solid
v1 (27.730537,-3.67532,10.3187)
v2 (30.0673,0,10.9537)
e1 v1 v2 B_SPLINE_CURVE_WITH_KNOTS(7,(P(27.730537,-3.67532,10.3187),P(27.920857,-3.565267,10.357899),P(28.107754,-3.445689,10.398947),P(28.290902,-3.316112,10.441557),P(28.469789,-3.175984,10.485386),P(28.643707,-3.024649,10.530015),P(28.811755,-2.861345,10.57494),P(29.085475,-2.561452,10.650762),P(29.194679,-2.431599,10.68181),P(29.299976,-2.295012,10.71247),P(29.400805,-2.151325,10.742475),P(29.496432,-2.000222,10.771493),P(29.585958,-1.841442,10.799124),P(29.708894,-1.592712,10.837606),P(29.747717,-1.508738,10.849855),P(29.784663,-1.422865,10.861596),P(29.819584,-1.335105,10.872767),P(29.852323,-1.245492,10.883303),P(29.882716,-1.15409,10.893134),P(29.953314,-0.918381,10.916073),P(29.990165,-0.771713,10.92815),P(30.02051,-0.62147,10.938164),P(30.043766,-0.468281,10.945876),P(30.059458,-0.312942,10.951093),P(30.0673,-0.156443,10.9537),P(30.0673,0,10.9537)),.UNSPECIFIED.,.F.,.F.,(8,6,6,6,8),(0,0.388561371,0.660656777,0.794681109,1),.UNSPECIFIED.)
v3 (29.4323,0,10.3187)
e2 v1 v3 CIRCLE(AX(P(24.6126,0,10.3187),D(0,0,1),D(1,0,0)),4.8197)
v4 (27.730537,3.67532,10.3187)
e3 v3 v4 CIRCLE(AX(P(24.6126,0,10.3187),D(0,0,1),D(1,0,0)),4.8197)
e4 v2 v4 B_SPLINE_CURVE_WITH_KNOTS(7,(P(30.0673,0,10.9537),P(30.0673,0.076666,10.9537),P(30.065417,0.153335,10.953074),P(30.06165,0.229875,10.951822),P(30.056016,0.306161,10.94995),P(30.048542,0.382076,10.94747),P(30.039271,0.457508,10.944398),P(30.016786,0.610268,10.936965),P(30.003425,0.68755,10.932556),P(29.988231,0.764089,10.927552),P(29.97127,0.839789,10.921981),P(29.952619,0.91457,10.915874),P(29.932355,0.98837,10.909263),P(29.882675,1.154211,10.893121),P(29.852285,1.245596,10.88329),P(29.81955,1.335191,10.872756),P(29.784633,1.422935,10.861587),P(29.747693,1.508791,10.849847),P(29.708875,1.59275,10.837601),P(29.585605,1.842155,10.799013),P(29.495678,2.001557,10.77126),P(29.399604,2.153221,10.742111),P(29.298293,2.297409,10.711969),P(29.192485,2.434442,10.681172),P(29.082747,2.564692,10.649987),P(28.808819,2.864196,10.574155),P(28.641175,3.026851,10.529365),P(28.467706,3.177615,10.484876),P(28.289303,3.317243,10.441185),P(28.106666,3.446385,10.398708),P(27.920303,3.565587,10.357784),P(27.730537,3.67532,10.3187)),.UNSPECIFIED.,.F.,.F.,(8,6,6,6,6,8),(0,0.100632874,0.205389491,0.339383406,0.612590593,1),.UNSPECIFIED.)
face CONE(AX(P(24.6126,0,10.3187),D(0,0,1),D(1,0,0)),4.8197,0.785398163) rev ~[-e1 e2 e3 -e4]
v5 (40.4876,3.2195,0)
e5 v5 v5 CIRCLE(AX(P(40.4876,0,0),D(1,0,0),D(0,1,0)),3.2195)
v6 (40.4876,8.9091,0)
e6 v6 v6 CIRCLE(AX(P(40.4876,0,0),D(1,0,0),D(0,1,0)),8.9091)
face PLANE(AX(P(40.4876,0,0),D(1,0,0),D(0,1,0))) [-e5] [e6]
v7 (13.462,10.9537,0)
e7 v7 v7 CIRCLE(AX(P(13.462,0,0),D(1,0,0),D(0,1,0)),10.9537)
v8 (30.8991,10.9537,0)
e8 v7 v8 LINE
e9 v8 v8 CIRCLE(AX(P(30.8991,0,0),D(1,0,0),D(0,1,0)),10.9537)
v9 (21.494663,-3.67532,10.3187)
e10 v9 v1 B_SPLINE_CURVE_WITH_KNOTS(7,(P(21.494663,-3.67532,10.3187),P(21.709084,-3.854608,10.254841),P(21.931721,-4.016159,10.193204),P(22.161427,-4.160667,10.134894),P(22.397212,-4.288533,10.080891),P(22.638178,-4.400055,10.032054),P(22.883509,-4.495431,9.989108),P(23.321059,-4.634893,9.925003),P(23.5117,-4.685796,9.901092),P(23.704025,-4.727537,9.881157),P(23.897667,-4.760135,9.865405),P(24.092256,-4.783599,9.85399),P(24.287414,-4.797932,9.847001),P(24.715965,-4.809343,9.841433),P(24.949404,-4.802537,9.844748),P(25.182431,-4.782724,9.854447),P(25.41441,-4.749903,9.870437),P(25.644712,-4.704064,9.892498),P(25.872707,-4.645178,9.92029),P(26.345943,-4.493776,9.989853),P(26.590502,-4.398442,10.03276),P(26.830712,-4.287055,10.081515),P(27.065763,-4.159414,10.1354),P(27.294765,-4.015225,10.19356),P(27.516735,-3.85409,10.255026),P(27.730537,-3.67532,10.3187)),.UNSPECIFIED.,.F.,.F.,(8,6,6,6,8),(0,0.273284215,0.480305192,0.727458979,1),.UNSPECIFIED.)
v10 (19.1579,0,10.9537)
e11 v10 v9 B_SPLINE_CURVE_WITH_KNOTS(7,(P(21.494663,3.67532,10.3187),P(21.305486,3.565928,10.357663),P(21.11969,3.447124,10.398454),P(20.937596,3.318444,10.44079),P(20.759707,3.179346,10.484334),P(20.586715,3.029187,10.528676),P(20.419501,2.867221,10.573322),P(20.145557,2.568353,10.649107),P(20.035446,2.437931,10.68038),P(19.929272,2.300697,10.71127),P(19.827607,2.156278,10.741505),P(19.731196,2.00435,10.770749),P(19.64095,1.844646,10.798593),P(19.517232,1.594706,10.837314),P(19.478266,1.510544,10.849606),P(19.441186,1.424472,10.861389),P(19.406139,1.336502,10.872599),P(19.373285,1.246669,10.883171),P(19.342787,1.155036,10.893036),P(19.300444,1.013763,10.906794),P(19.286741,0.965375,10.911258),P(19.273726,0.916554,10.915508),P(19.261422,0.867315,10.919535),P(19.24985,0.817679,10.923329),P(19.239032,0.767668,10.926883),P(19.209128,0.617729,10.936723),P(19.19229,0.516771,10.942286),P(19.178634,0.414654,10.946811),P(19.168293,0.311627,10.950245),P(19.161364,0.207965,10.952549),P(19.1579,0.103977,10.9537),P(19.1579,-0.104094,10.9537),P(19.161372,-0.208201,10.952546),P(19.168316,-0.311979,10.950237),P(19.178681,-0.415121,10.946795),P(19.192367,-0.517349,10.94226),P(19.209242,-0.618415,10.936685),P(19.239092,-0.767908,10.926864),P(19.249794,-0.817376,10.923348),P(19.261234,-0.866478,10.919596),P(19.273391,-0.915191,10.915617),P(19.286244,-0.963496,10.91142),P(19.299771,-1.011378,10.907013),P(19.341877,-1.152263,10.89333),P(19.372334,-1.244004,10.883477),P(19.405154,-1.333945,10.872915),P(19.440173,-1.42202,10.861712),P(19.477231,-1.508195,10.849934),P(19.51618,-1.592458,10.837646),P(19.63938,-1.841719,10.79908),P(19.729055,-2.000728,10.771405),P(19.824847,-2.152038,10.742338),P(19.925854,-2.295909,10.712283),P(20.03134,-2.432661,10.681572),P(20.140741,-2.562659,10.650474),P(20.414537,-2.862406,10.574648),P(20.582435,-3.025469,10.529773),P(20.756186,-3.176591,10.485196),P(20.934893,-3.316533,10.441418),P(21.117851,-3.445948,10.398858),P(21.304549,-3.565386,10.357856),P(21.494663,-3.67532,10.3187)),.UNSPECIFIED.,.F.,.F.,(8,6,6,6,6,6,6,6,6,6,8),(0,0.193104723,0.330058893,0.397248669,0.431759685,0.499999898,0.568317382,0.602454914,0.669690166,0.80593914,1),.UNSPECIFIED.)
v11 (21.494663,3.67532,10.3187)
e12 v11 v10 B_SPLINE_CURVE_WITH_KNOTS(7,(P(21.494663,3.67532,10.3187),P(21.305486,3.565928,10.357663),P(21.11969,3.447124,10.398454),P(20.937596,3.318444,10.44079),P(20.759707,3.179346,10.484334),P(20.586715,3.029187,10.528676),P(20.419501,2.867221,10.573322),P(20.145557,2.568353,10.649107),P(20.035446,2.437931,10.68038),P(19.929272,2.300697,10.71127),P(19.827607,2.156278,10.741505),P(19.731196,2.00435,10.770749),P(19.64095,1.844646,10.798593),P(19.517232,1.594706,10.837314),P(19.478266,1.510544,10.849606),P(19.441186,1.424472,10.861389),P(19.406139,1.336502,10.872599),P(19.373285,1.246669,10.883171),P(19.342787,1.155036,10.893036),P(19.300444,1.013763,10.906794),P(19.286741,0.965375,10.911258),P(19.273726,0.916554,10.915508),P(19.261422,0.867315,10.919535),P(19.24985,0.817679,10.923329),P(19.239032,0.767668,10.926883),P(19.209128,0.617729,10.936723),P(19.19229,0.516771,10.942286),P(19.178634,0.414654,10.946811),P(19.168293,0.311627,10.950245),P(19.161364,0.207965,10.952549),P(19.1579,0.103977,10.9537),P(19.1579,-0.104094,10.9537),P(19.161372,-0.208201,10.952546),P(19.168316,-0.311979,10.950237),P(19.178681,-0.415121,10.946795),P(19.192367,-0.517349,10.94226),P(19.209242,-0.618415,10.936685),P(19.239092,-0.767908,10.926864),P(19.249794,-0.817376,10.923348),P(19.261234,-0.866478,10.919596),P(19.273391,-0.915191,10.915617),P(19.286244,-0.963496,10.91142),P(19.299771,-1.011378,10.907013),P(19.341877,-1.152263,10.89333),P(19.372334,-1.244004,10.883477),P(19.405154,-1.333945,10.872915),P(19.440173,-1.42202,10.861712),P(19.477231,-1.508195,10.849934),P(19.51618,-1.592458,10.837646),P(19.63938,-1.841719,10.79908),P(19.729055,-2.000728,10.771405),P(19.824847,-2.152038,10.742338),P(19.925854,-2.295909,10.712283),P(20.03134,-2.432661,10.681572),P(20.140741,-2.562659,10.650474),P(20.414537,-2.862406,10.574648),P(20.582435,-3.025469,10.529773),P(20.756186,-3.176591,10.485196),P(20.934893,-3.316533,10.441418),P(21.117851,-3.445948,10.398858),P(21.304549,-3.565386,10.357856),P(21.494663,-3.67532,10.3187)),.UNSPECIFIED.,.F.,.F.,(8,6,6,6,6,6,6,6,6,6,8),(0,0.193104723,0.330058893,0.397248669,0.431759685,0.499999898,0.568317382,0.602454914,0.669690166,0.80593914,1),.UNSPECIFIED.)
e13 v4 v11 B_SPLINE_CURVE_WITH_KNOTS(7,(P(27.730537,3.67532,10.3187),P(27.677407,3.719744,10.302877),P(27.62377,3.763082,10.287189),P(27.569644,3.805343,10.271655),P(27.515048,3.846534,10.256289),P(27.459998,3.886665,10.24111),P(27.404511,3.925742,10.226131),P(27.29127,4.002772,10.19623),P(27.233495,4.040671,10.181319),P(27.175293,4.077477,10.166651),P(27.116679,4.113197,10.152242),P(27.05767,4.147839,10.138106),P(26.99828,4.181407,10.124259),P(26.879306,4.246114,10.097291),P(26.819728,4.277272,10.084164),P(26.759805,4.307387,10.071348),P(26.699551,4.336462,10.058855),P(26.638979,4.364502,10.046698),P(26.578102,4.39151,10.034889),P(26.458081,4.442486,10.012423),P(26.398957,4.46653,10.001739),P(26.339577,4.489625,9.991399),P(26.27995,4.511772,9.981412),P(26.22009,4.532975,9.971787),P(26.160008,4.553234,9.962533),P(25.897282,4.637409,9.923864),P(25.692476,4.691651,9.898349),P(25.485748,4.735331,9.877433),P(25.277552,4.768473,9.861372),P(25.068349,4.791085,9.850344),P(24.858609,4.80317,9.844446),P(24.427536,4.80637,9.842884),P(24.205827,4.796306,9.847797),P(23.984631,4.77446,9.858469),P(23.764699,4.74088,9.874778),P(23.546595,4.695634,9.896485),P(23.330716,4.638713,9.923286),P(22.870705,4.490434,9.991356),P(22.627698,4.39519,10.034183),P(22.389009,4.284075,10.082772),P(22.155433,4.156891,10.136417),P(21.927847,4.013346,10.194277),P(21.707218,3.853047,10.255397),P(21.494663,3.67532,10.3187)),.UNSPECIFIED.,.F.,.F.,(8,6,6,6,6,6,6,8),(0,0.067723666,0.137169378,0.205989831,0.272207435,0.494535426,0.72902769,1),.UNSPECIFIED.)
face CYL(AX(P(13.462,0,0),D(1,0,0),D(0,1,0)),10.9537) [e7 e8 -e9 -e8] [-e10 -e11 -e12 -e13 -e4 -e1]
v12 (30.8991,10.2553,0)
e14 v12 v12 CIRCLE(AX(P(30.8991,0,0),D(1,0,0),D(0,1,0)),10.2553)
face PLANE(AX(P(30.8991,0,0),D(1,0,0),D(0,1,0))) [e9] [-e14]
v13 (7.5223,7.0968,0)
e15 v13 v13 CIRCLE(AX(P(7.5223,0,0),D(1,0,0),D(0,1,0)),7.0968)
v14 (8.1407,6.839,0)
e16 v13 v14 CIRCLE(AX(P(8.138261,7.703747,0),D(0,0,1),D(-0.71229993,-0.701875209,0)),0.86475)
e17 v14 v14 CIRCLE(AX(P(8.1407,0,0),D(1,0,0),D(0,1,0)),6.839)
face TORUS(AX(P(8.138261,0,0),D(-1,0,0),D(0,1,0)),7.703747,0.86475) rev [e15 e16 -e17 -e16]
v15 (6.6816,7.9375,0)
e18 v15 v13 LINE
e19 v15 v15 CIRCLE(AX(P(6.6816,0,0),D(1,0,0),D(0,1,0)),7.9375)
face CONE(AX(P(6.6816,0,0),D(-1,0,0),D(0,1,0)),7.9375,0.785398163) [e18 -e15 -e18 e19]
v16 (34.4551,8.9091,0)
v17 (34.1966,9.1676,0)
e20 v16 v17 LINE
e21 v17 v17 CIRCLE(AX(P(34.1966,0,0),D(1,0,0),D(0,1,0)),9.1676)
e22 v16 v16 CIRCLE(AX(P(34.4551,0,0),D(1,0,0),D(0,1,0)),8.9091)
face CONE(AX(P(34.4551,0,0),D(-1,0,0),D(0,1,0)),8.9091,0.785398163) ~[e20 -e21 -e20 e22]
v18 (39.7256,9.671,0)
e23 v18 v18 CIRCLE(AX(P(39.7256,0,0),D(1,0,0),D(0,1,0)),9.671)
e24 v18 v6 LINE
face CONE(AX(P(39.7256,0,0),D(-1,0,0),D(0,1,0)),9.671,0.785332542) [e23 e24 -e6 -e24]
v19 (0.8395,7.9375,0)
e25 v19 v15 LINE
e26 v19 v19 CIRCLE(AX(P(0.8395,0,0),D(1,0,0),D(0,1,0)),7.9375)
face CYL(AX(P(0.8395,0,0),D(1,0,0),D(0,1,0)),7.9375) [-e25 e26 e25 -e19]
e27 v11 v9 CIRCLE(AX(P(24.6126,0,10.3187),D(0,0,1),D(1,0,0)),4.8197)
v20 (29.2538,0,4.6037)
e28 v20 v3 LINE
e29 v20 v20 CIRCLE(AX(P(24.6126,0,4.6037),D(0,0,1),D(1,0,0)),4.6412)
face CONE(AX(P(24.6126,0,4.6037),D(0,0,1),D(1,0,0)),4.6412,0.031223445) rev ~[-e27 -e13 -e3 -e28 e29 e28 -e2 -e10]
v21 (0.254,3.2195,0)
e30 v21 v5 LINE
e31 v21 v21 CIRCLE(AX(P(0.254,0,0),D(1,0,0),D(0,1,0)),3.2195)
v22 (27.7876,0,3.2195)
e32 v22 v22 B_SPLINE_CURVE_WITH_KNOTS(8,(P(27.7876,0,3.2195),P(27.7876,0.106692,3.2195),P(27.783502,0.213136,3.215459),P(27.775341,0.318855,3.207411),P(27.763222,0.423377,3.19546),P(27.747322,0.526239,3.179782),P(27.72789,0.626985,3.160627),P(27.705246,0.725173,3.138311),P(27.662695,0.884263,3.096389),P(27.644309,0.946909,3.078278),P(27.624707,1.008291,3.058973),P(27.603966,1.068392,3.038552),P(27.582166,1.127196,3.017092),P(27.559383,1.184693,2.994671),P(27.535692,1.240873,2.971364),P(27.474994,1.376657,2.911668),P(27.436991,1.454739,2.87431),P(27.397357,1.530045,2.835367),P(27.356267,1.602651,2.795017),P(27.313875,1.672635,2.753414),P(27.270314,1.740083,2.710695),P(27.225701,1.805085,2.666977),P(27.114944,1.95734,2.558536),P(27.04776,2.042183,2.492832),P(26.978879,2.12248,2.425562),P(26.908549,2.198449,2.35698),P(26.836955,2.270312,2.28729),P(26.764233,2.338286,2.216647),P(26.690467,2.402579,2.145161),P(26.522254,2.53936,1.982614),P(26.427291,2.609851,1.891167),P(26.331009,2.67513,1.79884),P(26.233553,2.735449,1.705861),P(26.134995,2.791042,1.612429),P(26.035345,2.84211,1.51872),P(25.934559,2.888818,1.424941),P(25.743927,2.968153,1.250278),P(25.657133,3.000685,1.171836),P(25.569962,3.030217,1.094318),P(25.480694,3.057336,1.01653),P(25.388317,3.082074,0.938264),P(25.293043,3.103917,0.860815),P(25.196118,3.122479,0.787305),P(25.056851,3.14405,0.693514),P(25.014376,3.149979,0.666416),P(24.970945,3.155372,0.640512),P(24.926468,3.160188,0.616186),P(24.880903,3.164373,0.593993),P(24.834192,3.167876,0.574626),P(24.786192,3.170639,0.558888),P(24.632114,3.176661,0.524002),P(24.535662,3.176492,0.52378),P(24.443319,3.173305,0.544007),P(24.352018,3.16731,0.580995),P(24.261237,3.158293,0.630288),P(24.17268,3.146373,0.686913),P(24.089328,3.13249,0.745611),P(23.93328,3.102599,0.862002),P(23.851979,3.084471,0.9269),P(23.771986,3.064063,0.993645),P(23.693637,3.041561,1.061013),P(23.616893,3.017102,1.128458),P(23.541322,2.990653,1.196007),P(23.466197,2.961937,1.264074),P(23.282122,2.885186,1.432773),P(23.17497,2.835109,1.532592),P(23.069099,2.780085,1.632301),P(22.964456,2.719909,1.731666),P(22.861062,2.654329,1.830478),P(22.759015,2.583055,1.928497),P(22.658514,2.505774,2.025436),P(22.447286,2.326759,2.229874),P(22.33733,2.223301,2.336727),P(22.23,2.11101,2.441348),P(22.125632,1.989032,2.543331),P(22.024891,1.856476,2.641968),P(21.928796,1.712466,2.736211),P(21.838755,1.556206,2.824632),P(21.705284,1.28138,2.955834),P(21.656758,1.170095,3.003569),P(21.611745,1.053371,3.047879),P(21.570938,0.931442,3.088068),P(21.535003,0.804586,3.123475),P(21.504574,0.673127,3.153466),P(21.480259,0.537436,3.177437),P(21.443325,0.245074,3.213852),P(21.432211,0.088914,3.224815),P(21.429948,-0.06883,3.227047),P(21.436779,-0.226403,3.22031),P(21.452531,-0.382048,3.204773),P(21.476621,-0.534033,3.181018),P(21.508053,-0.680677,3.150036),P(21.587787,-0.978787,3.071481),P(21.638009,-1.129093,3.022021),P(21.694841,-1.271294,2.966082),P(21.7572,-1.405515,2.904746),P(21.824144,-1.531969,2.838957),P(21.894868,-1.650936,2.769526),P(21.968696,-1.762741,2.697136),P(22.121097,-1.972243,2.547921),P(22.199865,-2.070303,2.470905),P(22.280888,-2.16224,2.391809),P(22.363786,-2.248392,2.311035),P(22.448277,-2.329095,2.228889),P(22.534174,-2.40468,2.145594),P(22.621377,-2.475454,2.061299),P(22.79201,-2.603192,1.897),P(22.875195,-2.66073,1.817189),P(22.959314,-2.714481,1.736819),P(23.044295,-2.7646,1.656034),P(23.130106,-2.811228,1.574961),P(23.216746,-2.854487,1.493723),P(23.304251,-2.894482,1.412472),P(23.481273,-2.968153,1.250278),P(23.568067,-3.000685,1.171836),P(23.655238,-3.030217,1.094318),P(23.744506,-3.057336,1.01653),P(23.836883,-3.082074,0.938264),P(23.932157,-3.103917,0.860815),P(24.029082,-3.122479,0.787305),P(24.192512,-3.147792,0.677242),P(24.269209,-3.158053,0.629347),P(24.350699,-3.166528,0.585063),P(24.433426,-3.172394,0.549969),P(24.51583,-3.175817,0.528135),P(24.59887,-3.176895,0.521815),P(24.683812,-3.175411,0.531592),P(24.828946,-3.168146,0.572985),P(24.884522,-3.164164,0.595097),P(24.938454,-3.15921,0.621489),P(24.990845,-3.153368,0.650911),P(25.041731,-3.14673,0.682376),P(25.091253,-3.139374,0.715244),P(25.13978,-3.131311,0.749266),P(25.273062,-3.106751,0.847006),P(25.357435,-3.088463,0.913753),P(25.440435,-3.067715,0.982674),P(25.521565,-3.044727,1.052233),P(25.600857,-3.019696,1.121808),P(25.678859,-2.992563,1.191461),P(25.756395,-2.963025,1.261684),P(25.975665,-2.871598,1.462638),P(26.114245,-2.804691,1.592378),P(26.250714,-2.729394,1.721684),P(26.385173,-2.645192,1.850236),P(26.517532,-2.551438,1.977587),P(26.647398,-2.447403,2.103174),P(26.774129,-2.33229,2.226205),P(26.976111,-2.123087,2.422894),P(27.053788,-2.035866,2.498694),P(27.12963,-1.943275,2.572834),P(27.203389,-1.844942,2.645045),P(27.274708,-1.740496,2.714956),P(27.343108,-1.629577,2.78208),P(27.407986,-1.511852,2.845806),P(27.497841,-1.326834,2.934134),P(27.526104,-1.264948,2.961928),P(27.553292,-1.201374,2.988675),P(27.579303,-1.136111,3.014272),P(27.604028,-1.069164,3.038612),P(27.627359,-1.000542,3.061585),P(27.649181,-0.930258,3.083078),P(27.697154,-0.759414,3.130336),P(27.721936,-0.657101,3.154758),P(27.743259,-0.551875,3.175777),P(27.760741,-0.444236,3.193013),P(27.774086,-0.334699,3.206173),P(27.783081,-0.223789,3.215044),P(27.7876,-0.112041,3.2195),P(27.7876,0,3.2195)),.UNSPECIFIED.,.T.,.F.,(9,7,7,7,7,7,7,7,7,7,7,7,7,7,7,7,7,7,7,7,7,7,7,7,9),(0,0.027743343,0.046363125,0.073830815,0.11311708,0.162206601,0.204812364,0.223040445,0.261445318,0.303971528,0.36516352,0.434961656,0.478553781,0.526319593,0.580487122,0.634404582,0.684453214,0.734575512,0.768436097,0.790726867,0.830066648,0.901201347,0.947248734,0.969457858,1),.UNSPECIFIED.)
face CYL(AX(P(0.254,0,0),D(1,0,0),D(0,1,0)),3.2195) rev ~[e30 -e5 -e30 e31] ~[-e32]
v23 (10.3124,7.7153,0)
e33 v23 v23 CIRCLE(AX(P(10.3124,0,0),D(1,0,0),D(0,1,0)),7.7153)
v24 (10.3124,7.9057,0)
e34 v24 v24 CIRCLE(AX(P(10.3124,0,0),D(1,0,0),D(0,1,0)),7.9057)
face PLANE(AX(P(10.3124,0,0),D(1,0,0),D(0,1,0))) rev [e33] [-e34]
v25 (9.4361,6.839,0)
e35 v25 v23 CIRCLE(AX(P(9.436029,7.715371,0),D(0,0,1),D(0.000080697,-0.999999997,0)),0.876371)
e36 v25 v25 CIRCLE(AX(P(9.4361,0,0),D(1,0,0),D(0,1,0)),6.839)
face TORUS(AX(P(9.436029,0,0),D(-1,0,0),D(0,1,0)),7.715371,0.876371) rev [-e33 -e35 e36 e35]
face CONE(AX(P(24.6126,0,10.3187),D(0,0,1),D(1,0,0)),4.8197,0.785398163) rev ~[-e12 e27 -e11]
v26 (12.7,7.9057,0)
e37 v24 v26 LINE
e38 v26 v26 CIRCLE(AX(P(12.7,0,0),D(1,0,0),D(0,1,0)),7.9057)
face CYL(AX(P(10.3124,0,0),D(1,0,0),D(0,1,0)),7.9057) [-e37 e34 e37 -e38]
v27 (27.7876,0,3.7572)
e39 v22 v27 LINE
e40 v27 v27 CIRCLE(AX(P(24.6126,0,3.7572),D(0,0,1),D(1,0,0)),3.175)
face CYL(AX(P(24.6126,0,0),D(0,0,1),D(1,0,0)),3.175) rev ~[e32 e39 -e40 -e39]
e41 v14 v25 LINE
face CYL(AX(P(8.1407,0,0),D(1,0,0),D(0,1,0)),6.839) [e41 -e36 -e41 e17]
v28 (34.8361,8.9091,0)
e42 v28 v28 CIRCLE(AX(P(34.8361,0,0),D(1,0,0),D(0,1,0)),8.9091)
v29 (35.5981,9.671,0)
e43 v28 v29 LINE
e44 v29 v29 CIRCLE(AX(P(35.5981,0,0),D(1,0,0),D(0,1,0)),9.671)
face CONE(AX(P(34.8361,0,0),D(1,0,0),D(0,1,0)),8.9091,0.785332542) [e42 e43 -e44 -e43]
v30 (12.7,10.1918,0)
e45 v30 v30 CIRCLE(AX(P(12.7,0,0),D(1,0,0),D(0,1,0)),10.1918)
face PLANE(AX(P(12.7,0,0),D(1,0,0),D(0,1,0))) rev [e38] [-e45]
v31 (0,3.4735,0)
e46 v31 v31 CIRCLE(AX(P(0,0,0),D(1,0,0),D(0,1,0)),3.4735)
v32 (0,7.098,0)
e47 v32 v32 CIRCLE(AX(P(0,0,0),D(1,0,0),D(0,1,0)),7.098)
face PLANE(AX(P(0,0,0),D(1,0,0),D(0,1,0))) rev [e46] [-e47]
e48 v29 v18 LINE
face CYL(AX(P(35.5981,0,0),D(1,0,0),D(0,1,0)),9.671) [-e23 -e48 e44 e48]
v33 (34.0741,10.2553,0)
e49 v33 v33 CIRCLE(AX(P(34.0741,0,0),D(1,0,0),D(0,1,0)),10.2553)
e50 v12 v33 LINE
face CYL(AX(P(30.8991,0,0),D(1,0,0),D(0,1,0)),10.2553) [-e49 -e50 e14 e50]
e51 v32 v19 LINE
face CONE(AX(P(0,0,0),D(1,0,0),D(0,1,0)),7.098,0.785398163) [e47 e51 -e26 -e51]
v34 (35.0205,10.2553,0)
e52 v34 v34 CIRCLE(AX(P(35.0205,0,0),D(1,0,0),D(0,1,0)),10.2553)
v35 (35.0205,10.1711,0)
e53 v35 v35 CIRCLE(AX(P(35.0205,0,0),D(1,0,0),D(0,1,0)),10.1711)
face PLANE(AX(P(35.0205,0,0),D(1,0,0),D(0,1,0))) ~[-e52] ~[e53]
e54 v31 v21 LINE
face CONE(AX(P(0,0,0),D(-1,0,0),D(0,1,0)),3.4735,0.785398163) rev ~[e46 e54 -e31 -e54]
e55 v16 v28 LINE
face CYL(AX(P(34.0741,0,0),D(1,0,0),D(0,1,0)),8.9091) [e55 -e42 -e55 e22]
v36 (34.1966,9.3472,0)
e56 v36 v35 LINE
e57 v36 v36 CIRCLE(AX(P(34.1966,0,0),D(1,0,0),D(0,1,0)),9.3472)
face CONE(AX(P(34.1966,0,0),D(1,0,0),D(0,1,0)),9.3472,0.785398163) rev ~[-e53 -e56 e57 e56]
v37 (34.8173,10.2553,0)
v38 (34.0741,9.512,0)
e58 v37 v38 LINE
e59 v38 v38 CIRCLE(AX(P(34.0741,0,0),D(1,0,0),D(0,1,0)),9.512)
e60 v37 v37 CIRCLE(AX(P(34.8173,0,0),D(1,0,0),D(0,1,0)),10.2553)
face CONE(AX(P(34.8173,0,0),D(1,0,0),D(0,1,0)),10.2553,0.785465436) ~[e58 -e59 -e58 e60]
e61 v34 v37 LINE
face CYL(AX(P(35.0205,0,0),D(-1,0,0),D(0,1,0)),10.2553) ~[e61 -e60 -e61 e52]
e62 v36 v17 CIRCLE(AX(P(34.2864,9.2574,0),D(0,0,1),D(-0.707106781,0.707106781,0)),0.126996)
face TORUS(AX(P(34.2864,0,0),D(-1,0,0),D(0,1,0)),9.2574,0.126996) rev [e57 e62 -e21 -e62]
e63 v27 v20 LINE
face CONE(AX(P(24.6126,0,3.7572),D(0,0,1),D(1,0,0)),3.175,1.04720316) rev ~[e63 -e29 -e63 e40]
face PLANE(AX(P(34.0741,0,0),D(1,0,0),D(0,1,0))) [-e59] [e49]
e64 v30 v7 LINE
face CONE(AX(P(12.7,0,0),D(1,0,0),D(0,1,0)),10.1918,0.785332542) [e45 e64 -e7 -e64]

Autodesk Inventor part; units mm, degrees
sketch "Sketch_2" plane through (0, 0, 0) normal (0, 0, 1) x (1, 0, 0)
  line L0 (12.7, 0) -> (0, 0)
  line L1 (0, 0) -> (0, 7.098)
  line L2 (0, 7.098) -> (0.8395, 7.9375)
  line L3 (0.8395, 7.9375) -> (6.6816, 7.9375)
  line L4 (6.6816, 7.9375) -> (7.5223, 7.0968)
  arc A0 (7.5223, 7.0968) -> (8.1407, 6.839) centre (8.1385, 7.7041) ccw
  line L5 (8.1407, 6.839) -> (9.4361, 6.839)
  arc A1 (9.4361, 6.839) -> (10.3124, 7.7153) centre (9.4361, 7.7152) ccw
  line L6 (10.3124, 7.7153) -> (10.3124, 7.9057)
  line L7 (10.3124, 7.9057) -> (12.7, 7.9057)
  line L8 (12.7, 7.9057) -> (12.7, 0)
  line L9 (12.7, 0) -> (0, 0)
revolve "Revolution1" add sketch "Sketch_2" angle 360 about axis through (12.7, 0, 0) along (1, 0, 0)
thread "Thread1" size "5/8-18 UNF" class "3A" standard "ANSI Unified Screw Threads" full length
sketch "Sketch_3" plane through (0, 0, 0) normal (0, 0, 1) x (1, 0, 0)
  line L0 (40.4876, 0) -> (12.7, 0)
  line L1 (12.7, 0) -> (12.7, 10.1918)
  line L2 (12.7, 10.1918) -> (13.462, 10.9537)
  line L3 (13.462, 10.9537) -> (34.0741, 10.9537)
  line L4 (34.0741, 10.9537) -> (34.0741, 8.9091)
  line L5 (34.0741, 8.9091) -> (34.8361, 8.9091)
  line L6 (34.8361, 8.9091) -> (35.5981, 9.671)
  line L7 (35.5981, 9.671) -> (39.7256, 9.671)
  line L8 (39.7256, 9.671) -> (40.4876, 8.9091)
  line L9 (40.4876, 8.9091) -> (40.4876, 0)
  line L10 (40.4876, 0) -> (12.7, 0)
revolve "Revolution2" add sketch "Sketch_3" angle 360 about axis through (40.4876, 0, 0) along (1, 0, 0)
sketch "Sketch_5" plane through (0, 0, 0) normal (0, 0, 1) x (1, 0, 0)
  line L0 (40.4876, 0) -> (0, 0)
  line L1 (0, 0) -> (0, 3.4735)
  line L2 (0, 3.4735) -> (0.254, 3.2195)
  line L3 (0.254, 3.2195) -> (40.4876, 3.2195)
  line L4 (40.4876, 3.2195) -> (40.4876, 0)
  line L5 (40.4876, 0) -> (0, 0)
revolve "Revolution3" cut sketch "Sketch_5" angle 360 about axis through (40.4876, 0, 0) along (1, 0, 0)
sketch "Sketch_10" plane through (0, 0, 0) normal (0, 0, 1) x (1, 0, 0)
  line L0 (34.0741, 0) -> (30.8991, 0)
  line L1 (30.8991, 10.2553) -> (34.0741, 10.2553)
  line L2 (34.0741, 10.2553) -> (34.0741, 15.3353)
  line L3 (34.0741, 15.3353) -> (30.8991, 15.3353)
  line L4 (30.8991, 15.3353) -> (30.8991, 10.2553)
revolve "Revolution4" cut sketch "Sketch_10" angle 360 about axis through (34.0741, 0, 0) along (1, 0, 0)
sketch "Sketch_40" plane through (0, 0, 0) normal (0, 1, 0) x (-1, 0, 0)
  line L0 (-24.6126, 10.9537) -> (-24.6126, 0)
  line L1 (-24.6126, 0) -> (-27.7876, 0)
  line L2 (-27.7876, 0) -> (-27.7876, 3.7572)
  line L3 (-27.7876, 3.7572) -> (-29.2538, 4.6037)
  line L4 (-29.2538, 4.6037) -> (-29.4323, 10.3187)
  line L5 (-29.4323, 10.3187) -> (-30.0673, 10.9537)
  line L6 (-30.0673, 10.9537) -> (-24.6126, 10.9537)
  line L7 (-24.6126, 10.9537) -> (-24.6126, 0)
revolve "Revolution5" cut sketch "Sketch_40" angle 360 about axis through (24.6126, 0, 10.9537) along (0, 0, 1)
sketch "Sketch_47" plane through (0, 0, 0) normal (0, 0, 1) x (1, 0, 0)
  line L0 (34.8361, 0) -> (34.0741, 0)
  line L1 (34.0741, 8.655) -> (34.8361, 8.655)
  line L2 (34.8361, 8.655) -> (34.8361, 8.9091)
  line L3 (34.8361, 8.9091) -> (34.4551, 8.9091)
  line L4 (34.4551, 8.9091) -> (34.1966, 9.1676)
  arc A0 (34.1966, 9.3472) -> (34.1966, 9.1676) centre (34.2864, 9.2574) ccw
  line L5 (34.1966, 9.3472) -> (35.0205, 10.1711)
  line L6 (35.0205, 10.1711) -> (35.0205, 10.2553)
  line L7 (35.0205, 10.2553) -> (34.8173, 10.2553)
  line L8 (34.8173, 10.2553) -> (34.0741, 9.512)
  line L9 (34.0741, 9.512) -> (34.0741, 8.655)
revolve "Revolution6" add sketch "Sketch_47" angle 360 about axis through (34.8361, 0, 0) along (1, 0, 0)
ref_plane "s1_XY" through (10.3124, 0, 0) normal (0, 0, 1) x (1, 0, 0)
ref_plane "s1_YZ" through (10.3124, 0, 0) normal (1, 0, 0) x (0, 1, 0)
ref_plane "s1_ZX" through (10.3124, 0, 0) normal (0, 1, 0) x (0, 0, 1)
ref_plane "s2_XY" through (12.7, 0, 0) normal (0, 0, 1) x (1, 0, 0)
ref_plane "s2_YZ" through (12.7, 0, 0) normal (1, 0, 0) x (0, 1, 0)
ref_plane "s2_ZX" through (12.7, 0, 0) normal (0, 1, 0) x (0, 0, 1)
ref_plane "dp1_XY" through (12.7, 7.9057, 0) normal (0, 0, 1) x (1, 0, 0)
ref_plane "dp1_YZ" through (12.7, 7.9057, 0) normal (1, 0, 0) x (0, 1, 0)
ref_plane "dp1_ZX" through (12.7, 7.9057, 0) normal (0, 1, 0) x (0, 0, 1)
ref_plane "dp2_XY" through (12.7, -7.9057, 0) normal (0, 0, 1) x (1, 0, 0)
ref_plane "dp2_YZ" through (12.7, -7.9057, 0) normal (1, 0, 0) x (0, 1, 0)
ref_plane "dp2_ZX" through (12.7, -7.9057, 0) normal (0, 1, 0) x (0, 0, 1)
ref_plane "rod_guide_XY" through (0, 0, 0) normal (1, 0, 0) x (0, 0, -1)
ref_plane "rod_guide_YZ" through (0, 0, 0) normal (0, 0, -1) x (0, 1, 0)
ref_plane "rod_guide_ZX" through (0, 0, 0) normal (0, 1, 0) x (1, 0, 0)
ref_plane "to_tube_XY" through (34.8361, 0, 0) normal (1, 0, 0) x (0, 0, -1)
ref_plane "to_tube_YZ" through (34.8361, 0, 0) normal (0, 0, -1) x (0, 1, 0)
ref_plane "to_tube_ZX" through (34.8361, 0, 0) normal (0, 1, 0) x (1, 0, 0)
ref_plane "to_foot_bracket_XY" through (12.7, 0, 0) normal (1, 0, 0) x (0, 0, -1)
ref_plane "to_foot_bracket_YZ" through (12.7, 0, 0) normal (0, 0, -1) x (0, 1, 0)
ref_plane "to_foot_bracket_ZX" through (12.7, 0, 0) normal (0, 1, 0) x (1, 0, 0)
ref_plane "to_nut_XY" through (10.3124, 0, 0) normal (1, 0, 0) x (0, 0, -1)
ref_plane "to_nut_YZ" through (10.3124, 0, 0) normal (0, 0, -1) x (0, 1, 0)
ref_plane "to_nut_ZX" through (10.3124, 0, 0) normal (0, 1, 0) x (1, 0, 0)
ref_plane "to_trunnion_brackets_XY" through (11.1252, 0, 0) normal (0, 1, 0) x (1, 0, 0)
ref_plane "to_trunnion_brackets_YZ" through (11.1252, 0, 0) normal (1, 0, 0) x (0, 0, -1)
ref_plane "to_trunnion_brackets_ZX" through (11.1252, 0, 0) normal (0, 0, -1) x (0, 1, 0)
ref_plane "to_trunnion_brackets1_XY" through (11.1252, 12.7, 0) normal (0, 1, 0) x (1, 0, 0)
ref_plane "to_trunnion_brackets1_YZ" through (11.1252, 12.7, 0) normal (1, 0, 0) x (0, 0, -1)
ref_plane "to_trunnion_brackets1_ZX" through (11.1252, 12.7, 0) normal (0, 0, -1) x (0, 1, 0)
ref_plane "to_trunnion_brackets2_XY" through (11.1252, -12.7, 0) normal (0, 1, 0) x (1, 0, 0)
ref_plane "to_trunnion_brackets2_YZ" through (11.1252, -12.7, 0) normal (1, 0, 0) x (0, 0, -1)
ref_plane "to_trunnion_brackets2_ZX" through (11.1252, -12.7, 0) normal (0, 0, -1) x (0, 1, 0)
ref_plane "t111_XY" through (12.7, 0, 0) normal (1, 0, 0) x (0, 0, -1)
ref_plane "t111_YZ" through (12.7, 0, 0) normal (0, 0, -1) x (0, 1, 0)
ref_plane "t111_ZX" through (12.7, 0, 0) normal (0, 1, 0) x (1, 0, 0)
ref_plane "t1_XY" through (12.7, 0, 0) normal (1, 0, 0) x (0, 0, -1)
ref_plane "t1_YZ" through (12.7, 0, 0) normal (0, 0, -1) x (0, 1, 0)
ref_plane "t1_ZX" through (12.7, 0, 0) normal (0, 1, 0) x (1, 0, 0)
ref_plane "port_XY" through (24.6126, 0, 0) normal (0, 0, 1) x (1, 0, 0)
ref_plane "port_YZ" through (24.6126, 0, 0) normal (1, 0, 0) x (0, 1, 0)
ref_plane "port_ZX" through (24.6126, 0, 0) normal (0, 1, 0) x (0, 0, 1)
ref_plane "to_screw_XY" through (24.6126, 2.032, -6.0452) normal (0, 1, 0) x (1, 0, 0)
ref_plane "to_screw_YZ" through (24.6126, 2.032, -6.0452) normal (1, 0, 0) x (0, 0, -1)
ref_plane "to_screw_ZX" through (24.6126, 2.032, -6.0452) normal (0, 0, -1) x (0, 1, 0)
properties part number "04R000_rod_guide"
